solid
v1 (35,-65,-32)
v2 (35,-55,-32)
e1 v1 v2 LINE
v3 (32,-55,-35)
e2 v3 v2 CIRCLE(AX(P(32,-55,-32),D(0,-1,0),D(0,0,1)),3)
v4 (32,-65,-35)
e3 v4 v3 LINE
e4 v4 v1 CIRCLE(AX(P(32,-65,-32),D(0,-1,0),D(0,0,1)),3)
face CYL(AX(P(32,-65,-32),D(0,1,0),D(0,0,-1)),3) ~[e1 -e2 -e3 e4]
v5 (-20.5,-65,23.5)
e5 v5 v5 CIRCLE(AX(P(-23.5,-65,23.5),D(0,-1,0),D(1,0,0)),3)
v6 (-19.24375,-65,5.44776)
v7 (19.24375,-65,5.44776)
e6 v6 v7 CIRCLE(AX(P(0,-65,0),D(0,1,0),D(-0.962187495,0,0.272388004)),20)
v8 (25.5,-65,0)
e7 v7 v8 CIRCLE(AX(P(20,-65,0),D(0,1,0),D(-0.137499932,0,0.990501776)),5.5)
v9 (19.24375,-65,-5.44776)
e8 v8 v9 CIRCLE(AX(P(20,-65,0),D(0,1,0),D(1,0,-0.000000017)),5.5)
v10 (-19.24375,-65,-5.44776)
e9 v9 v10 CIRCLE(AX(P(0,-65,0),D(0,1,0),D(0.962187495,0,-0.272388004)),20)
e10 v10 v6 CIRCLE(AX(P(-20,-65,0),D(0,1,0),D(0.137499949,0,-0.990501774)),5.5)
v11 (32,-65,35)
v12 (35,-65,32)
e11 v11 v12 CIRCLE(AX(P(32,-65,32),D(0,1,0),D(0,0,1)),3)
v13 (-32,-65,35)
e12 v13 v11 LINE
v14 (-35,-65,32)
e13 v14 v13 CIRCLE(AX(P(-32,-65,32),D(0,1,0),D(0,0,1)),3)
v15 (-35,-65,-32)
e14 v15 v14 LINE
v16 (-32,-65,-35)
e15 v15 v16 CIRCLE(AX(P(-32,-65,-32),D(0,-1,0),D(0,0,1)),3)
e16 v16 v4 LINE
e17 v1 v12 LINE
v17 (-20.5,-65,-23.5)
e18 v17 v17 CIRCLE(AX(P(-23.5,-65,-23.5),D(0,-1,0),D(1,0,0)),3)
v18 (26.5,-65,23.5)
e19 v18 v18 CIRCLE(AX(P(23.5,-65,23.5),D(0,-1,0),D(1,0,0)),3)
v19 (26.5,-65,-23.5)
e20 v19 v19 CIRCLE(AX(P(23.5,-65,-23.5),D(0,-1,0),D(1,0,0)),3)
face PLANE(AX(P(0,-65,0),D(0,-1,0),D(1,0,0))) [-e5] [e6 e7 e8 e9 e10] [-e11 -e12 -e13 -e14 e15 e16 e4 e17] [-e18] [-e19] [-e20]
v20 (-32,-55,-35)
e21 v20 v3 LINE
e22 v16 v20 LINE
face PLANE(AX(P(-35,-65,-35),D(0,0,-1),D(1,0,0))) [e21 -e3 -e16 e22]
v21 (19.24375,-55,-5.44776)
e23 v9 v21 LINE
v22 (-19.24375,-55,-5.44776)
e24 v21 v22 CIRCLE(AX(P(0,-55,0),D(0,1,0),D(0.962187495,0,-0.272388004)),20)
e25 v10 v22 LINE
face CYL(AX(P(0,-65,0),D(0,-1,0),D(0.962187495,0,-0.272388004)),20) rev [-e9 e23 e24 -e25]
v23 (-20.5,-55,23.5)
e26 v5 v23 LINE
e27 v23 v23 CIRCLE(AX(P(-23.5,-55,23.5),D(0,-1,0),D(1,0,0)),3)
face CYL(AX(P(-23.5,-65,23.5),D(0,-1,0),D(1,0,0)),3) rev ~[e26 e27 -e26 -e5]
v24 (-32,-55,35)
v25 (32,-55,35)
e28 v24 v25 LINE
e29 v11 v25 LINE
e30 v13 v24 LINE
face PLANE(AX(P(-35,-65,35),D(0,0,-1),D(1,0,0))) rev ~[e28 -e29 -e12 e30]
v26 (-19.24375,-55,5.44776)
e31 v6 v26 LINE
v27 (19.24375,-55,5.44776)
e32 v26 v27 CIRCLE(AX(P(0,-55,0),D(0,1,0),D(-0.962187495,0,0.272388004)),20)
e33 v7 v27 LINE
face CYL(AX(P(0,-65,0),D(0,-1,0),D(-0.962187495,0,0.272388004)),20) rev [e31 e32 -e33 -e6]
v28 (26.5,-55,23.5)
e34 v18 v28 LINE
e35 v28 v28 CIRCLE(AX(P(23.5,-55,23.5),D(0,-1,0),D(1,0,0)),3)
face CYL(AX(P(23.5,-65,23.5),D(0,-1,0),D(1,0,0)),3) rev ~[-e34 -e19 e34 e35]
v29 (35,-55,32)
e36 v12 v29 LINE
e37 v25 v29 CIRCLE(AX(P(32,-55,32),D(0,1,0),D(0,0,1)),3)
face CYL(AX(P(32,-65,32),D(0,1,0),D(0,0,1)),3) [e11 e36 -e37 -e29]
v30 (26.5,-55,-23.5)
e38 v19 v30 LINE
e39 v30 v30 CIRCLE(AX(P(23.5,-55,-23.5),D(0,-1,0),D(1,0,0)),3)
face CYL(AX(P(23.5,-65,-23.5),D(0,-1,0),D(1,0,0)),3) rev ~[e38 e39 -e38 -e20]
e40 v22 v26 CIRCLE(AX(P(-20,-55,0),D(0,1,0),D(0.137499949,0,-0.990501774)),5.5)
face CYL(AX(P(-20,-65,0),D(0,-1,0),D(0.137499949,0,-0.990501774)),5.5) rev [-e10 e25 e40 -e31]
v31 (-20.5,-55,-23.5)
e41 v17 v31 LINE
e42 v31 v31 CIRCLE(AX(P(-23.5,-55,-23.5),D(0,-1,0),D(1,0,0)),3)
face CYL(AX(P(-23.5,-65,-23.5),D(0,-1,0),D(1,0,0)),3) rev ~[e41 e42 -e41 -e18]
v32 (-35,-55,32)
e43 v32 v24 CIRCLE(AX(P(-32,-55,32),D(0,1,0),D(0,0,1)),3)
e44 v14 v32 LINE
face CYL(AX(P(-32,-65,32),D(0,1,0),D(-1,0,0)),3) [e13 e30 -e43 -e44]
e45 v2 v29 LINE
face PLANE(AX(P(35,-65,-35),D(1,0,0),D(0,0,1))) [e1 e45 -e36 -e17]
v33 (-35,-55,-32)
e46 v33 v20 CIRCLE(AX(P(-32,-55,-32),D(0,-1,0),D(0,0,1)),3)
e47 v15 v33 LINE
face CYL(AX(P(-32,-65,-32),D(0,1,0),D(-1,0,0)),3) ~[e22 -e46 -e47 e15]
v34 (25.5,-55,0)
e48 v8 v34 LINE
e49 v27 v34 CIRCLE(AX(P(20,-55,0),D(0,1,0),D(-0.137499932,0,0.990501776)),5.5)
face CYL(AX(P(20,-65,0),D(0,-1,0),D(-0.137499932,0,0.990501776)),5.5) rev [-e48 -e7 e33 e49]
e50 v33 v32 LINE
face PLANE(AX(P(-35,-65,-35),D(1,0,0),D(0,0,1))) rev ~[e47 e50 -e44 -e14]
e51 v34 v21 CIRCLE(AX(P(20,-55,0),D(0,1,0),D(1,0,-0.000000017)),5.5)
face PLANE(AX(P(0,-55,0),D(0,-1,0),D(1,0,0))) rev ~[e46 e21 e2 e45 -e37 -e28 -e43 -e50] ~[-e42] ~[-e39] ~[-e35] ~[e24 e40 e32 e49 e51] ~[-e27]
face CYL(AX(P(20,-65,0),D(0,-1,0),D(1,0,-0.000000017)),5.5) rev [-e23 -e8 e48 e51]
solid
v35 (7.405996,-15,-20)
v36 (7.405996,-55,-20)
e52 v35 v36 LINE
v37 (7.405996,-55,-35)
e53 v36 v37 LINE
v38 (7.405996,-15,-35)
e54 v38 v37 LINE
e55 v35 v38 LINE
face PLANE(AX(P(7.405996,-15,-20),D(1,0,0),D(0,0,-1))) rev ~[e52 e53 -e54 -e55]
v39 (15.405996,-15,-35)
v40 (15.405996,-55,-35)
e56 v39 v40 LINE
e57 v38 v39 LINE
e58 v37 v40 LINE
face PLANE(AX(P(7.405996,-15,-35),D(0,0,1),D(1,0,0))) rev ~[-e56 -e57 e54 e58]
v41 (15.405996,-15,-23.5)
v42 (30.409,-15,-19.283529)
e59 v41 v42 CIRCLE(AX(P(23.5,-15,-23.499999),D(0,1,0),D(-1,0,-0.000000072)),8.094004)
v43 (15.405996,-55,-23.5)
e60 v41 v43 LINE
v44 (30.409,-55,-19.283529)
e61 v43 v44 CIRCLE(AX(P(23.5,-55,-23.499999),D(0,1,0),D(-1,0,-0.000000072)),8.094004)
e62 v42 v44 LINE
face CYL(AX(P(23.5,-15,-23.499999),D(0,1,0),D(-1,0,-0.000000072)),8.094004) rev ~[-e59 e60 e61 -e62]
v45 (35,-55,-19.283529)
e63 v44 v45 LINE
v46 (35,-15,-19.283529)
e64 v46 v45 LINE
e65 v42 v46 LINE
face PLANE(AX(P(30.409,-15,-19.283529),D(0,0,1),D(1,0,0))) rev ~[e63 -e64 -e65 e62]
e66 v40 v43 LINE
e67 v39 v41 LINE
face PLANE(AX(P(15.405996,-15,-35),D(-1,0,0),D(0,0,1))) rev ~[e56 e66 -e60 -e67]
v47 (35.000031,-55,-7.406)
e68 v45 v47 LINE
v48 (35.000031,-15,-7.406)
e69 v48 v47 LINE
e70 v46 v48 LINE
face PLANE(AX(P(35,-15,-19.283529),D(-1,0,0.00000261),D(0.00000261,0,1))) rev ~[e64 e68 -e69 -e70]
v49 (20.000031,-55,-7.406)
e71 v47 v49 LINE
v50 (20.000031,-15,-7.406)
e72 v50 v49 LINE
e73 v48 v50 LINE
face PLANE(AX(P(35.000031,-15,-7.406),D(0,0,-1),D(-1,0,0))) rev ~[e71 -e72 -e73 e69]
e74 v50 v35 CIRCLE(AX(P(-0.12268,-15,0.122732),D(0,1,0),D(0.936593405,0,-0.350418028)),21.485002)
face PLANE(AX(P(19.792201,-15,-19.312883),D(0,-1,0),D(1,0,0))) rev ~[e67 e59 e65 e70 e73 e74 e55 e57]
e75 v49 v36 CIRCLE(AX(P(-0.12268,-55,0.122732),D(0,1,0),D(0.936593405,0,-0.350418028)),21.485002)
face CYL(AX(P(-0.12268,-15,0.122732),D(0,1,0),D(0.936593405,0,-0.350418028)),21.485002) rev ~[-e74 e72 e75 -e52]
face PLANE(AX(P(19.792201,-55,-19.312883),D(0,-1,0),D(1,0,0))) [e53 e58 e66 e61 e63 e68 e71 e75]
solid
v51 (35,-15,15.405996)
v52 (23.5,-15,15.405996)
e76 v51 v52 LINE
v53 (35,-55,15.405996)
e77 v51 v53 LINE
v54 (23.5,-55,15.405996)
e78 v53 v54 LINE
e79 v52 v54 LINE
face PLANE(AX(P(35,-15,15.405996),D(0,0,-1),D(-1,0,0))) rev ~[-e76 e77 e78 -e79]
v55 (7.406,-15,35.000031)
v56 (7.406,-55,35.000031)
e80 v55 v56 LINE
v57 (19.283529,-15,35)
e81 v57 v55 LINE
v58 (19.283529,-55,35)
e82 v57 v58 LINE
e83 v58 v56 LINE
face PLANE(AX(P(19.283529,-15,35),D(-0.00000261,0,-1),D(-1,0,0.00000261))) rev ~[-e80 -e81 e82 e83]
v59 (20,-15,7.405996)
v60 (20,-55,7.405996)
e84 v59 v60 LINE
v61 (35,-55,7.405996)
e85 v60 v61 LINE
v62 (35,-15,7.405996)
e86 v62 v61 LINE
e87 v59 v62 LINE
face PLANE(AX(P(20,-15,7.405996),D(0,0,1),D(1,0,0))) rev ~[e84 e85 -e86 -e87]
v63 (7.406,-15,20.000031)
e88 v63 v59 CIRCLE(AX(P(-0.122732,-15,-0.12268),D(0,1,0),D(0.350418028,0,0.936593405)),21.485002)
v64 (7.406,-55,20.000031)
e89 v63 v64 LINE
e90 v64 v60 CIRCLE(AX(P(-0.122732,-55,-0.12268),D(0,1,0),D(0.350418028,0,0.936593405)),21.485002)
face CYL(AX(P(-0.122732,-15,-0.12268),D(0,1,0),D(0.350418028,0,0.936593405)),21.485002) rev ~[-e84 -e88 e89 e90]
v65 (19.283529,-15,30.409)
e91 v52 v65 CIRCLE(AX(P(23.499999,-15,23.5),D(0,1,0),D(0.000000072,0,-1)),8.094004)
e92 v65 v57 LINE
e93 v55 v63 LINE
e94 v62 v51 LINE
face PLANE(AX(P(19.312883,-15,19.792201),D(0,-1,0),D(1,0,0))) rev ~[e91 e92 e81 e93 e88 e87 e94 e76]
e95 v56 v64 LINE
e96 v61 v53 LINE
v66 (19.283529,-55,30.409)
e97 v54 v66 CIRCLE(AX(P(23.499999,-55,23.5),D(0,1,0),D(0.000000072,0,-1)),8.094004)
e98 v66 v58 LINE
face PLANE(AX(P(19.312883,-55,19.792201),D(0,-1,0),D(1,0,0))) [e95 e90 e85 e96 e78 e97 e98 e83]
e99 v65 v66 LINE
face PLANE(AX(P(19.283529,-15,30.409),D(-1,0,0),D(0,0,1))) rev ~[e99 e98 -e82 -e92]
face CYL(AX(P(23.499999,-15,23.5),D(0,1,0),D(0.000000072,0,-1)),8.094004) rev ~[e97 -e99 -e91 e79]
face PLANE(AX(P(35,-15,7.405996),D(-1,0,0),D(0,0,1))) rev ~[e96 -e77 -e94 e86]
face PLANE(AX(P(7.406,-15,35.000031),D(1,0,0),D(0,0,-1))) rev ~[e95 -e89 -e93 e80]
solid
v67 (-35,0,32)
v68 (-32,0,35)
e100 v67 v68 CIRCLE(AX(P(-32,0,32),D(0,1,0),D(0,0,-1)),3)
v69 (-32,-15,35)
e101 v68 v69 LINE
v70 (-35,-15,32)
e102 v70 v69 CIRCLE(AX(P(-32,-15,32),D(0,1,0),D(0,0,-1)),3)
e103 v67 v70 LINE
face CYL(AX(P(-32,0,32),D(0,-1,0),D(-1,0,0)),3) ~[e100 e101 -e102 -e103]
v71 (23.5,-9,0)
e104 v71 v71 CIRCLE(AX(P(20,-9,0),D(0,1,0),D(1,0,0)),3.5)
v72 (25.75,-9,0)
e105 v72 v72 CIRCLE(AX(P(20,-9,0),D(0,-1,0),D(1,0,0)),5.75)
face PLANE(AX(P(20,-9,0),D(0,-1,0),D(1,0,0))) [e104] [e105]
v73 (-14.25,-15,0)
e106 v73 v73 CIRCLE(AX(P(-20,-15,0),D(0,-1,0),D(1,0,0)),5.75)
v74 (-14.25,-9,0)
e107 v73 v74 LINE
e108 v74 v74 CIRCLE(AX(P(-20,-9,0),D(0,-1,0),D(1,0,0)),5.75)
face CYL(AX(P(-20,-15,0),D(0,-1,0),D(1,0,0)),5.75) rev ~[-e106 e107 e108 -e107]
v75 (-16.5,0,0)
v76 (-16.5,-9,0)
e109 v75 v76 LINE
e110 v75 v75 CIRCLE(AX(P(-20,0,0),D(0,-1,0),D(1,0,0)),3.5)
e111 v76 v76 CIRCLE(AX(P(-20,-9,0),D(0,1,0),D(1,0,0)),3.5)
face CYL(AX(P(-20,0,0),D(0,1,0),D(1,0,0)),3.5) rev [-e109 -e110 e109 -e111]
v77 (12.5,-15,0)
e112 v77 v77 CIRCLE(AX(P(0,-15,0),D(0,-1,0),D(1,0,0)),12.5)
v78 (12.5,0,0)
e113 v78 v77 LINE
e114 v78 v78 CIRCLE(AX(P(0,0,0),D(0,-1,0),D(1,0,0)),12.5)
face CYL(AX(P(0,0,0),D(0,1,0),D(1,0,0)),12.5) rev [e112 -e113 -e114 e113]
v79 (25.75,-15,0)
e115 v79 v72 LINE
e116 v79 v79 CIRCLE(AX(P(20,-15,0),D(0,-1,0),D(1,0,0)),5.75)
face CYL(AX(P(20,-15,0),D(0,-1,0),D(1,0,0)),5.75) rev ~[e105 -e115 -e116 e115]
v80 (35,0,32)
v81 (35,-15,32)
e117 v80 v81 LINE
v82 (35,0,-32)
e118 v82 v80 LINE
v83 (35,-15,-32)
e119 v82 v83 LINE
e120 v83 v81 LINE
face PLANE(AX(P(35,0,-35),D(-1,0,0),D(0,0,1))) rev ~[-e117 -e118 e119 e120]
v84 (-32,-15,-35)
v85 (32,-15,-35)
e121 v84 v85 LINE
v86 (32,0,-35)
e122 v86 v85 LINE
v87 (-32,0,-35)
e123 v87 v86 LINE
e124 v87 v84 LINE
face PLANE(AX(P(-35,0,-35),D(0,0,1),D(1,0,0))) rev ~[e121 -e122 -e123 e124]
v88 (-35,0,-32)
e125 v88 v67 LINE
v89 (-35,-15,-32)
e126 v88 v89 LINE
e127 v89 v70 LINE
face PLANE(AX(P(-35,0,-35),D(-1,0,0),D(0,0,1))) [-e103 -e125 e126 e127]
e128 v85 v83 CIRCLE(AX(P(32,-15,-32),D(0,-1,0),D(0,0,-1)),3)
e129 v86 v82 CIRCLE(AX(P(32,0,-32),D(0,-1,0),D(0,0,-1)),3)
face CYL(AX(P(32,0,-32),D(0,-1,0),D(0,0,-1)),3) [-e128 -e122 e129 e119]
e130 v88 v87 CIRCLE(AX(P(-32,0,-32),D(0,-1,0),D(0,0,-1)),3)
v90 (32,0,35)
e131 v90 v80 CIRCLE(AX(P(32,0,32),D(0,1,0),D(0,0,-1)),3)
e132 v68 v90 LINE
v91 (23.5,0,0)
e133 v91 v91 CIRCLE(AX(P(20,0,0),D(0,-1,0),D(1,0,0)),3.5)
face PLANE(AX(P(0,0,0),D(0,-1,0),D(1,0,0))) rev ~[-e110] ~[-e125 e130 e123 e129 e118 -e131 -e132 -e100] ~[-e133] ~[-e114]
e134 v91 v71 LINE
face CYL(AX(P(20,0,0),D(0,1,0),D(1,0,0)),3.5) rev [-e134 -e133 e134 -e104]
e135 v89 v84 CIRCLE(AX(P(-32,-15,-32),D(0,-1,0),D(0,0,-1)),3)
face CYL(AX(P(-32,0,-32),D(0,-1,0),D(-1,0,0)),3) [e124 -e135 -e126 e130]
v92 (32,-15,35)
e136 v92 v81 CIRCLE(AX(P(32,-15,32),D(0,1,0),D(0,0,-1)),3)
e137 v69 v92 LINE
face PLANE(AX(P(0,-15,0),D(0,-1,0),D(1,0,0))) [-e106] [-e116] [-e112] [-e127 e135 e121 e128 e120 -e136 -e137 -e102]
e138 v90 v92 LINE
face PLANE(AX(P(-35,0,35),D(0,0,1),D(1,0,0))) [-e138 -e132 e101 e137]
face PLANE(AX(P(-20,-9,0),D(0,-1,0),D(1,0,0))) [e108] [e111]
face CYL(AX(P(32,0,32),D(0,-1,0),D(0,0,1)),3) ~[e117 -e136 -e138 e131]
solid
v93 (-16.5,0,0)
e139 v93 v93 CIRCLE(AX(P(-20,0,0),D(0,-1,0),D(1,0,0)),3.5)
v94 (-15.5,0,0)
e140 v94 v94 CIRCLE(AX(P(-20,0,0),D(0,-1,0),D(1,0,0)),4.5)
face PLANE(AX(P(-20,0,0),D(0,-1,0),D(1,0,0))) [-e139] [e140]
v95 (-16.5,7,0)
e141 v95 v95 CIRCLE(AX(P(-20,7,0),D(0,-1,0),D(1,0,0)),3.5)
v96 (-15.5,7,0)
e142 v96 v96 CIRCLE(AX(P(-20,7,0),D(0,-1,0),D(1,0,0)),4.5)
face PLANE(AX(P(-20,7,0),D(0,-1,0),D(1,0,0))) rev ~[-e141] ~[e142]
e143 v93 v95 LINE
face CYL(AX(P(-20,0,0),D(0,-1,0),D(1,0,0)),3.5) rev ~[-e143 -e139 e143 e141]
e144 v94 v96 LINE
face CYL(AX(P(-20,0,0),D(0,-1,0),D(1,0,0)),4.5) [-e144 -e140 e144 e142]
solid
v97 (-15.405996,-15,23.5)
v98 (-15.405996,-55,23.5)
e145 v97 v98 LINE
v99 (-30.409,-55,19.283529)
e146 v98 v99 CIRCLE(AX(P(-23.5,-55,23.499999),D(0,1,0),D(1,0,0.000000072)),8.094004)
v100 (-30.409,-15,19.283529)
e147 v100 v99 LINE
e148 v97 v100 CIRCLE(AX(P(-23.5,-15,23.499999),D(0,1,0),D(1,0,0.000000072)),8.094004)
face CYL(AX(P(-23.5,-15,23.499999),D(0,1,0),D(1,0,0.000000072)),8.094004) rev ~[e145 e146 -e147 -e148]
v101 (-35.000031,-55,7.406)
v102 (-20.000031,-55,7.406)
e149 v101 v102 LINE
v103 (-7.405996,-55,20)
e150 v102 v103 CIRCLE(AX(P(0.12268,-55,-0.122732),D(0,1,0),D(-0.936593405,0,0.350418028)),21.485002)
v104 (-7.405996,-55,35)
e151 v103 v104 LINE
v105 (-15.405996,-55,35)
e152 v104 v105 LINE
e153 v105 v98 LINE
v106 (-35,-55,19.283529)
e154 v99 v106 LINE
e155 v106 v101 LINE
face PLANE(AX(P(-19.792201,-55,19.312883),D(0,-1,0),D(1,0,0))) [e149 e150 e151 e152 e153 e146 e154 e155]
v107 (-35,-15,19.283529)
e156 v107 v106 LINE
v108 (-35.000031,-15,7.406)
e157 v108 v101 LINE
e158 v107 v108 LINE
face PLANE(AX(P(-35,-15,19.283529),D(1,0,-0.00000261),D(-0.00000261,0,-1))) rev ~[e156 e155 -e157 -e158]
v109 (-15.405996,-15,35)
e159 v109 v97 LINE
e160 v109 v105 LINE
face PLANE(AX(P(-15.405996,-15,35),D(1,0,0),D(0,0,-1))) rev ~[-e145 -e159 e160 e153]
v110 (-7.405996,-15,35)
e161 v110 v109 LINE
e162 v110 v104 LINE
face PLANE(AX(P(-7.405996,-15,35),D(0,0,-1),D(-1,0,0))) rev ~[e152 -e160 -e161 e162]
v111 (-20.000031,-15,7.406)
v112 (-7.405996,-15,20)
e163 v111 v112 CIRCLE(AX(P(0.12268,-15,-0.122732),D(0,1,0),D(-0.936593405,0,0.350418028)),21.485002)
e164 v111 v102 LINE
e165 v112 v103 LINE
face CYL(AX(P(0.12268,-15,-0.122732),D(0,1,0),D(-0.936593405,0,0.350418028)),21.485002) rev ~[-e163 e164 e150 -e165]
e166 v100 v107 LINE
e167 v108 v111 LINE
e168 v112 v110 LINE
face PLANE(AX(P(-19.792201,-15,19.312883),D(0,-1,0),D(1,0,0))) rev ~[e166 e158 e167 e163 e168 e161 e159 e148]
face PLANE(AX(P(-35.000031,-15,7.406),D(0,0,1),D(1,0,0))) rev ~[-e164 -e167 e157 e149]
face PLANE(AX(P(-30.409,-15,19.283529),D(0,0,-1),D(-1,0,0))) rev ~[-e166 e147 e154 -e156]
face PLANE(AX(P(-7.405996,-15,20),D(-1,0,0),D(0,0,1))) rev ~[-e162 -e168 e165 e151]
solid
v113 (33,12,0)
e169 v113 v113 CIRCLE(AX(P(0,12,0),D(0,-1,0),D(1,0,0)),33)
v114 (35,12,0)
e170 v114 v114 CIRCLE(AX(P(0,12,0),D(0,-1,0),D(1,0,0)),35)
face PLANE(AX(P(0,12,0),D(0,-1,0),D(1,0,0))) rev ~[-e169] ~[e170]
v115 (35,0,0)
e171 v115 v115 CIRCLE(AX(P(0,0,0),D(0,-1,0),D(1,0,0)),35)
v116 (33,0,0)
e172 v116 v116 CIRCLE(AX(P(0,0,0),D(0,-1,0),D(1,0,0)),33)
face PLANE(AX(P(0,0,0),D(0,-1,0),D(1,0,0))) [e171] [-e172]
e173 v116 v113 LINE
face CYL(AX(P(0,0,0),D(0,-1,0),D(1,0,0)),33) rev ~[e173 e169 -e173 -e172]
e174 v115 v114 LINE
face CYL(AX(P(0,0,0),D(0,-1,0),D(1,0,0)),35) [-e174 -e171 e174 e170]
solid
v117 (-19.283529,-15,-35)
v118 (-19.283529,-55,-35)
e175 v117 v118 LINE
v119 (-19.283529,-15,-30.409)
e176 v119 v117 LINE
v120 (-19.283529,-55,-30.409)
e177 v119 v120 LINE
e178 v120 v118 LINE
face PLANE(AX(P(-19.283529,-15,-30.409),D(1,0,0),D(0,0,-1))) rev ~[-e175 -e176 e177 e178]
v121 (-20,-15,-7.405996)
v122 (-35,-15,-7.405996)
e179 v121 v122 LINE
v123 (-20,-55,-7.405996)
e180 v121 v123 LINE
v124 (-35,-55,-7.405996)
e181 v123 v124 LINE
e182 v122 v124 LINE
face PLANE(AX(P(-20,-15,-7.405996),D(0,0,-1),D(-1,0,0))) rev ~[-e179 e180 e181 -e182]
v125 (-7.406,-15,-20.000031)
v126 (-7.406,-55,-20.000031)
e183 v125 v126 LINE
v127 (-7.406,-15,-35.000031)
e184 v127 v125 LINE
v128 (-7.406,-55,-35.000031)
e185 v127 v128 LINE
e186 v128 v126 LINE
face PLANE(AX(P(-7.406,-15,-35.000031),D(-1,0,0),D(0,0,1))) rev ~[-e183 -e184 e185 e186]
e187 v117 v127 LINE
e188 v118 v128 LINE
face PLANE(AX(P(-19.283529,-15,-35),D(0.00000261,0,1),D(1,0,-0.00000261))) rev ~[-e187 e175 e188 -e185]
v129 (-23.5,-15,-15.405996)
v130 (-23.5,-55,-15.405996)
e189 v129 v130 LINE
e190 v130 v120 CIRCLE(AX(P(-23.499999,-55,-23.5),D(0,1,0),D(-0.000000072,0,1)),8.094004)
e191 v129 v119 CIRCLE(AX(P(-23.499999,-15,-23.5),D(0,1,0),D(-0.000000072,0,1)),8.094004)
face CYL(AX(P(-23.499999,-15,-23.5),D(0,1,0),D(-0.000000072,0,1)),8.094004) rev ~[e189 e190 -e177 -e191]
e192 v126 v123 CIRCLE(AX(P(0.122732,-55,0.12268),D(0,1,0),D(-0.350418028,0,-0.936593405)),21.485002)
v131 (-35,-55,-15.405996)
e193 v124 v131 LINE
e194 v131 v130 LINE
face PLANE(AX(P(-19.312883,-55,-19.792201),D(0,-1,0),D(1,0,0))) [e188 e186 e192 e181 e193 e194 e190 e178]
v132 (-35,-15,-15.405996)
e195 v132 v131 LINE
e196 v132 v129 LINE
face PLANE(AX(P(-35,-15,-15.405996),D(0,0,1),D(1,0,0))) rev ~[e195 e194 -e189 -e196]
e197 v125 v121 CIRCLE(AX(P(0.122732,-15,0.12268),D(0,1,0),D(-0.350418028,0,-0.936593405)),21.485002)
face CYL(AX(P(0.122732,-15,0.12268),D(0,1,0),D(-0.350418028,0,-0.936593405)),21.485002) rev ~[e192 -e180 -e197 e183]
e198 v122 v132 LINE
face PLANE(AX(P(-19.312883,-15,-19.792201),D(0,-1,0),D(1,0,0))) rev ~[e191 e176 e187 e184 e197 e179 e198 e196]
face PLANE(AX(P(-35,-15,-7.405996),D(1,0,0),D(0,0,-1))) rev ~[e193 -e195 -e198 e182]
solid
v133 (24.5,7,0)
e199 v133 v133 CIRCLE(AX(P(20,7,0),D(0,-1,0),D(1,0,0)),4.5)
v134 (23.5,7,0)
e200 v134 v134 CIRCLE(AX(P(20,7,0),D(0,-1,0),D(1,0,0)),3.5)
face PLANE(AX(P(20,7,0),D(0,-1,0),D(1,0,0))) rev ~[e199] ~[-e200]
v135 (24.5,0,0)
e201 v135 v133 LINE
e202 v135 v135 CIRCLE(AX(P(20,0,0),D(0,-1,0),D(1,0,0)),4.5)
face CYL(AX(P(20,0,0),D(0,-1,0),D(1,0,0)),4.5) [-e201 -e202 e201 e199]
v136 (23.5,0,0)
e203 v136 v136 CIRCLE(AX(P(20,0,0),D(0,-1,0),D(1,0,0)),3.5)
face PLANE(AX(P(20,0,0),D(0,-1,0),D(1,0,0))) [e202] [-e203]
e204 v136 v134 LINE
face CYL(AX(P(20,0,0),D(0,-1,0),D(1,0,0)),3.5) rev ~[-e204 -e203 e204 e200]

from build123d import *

# Parameters (mm, degrees)
F0_R      = 4.5
F0_R_2    = 3.5
F1_DEPTH  = 7
F2_R      = 35
F2_R_2    = 33
F3_DEPTH  = 12
F4_W      = 70
F4_H      = 70
F4_R      = 3.5
F4_R_2    = 12.5
F5_DEPTH  = 15
F7_R      = 5.75
F8_DEPTH  = 6
F10_W     = 70
F10_H     = 70
F10_R     = 3
F11_DEPTH = 10
F13_DEPTH = 40
F14_R     = 3
F15_R     = 3


with BuildPart() as f1:
    # F0 (on Front) → F1 (new body)
    with BuildSketch(Plane.XZ):
        with Locations((-20, 0)):
            Circle(F0_R)
        with Locations((-20, 0)):
            Circle(F0_R_2, mode=Mode.SUBTRACT)
        with Locations((20, 0)):
            Circle(F0_R)
        with Locations((20, 0)):
            Circle(F0_R_2, mode=Mode.SUBTRACT)
    extrude(amount=-F1_DEPTH)


with BuildPart() as f3:
    # F2 (on Front) → F3 (new body)
    with BuildSketch(Plane.XZ):
        Circle(F2_R)
        Circle(F2_R_2, mode=Mode.SUBTRACT)
    extrude(amount=-F3_DEPTH)


with BuildPart() as f5:
    # F4 (on Front) → F5 (new body)
    with BuildSketch(Plane.XZ):
        Rectangle(F4_W, F4_H)
        with Locations((-20, 0)):
            Circle(F4_R, mode=Mode.SUBTRACT)
        Circle(F4_R_2, mode=Mode.SUBTRACT)
        with Locations((20, 0)):
            Circle(F4_R, mode=Mode.SUBTRACT)
    extrude(amount=F5_DEPTH)

    # F7 (on offset) → F8 (cut)
    with BuildSketch(Plane.XZ.offset(15)):
        with Locations((-20, 0)):
            Circle(F7_R)
        with Locations((20, 0)):
            Circle(F7_R)
    extrude(amount=-F8_DEPTH, mode=Mode.SUBTRACT)

    # F15
    f15_edges = [f5.edges().sort_by_distance(p)[0] for p in [
        (35, -7.5, -35),
        (35, -7.5, 35),
        (-35, -7.5, 35),
        (-35, -7.5, -35),
    ]]
    fillet(f15_edges, radius=F15_R)


with BuildPart() as f11:
    # F10 (on offset) → F11 (new body)
    with BuildSketch(Plane.XZ.offset(65)):
        Rectangle(F10_W, F10_H)
        with Locations((-23.5, -23.5)):
            Circle(F10_R, mode=Mode.SUBTRACT)
        with Locations((23.5, -23.5)):
            Circle(F10_R, mode=Mode.SUBTRACT)
        with Locations((-23.5, 23.5)):
            Circle(F10_R, mode=Mode.SUBTRACT)
        with BuildLine():
            ThreePointArc((-19.24375, 5.44776), (0, 20), (19.24375, 5.44776))
            ThreePointArc((19.24375, 5.44776), (23.61183, 4.147853), (25.5, 0))
            ThreePointArc((25.5, 0), (23.61183, -4.147853), (19.24375, -5.44776))
            ThreePointArc((19.24375, -5.44776), (0, -20), (-19.24375, -5.44776))
            ThreePointArc((-19.24375, -5.44776), (-25.5, 0), (-19.24375, 5.44776))
        make_face(mode=Mode.SUBTRACT)
        with Locations((23.5, 23.5)):
            Circle(F10_R, mode=Mode.SUBTRACT)
    extrude(amount=-F11_DEPTH)

    # F14
    f14_edges = [f11.edges().sort_by_distance(p)[0] for p in [
        (-35, -60, 35),
        (35, -60, 35),
        (35, -60, -35),
        (-35, -60, -35),
    ]]
    fillet(f14_edges, radius=F14_R)


with BuildPart() as f13:
    # F12 (on offset) → F13 (new body)
    with BuildSketch(Plane.XZ.offset(15)):
        with BuildLine():
            Line((-15.405996, 35), (-15.405996, 23.5))
            ThreePointArc((-15.405996, 23.5), (-21.310088, 15.707876), (-30.409, 19.283529))
            Line((-30.409, 19.283529), (-35, 19.283529))
            Line((-35, 19.283529), (-35.000031, 7.406))
            Line((-35.000031, 7.406), (-20.000031, 7.406))
            ThreePointArc((-20.000031, 7.406), (-15.069489, 15.06948), (-7.405996, 20))
            Line((-7.405996, 20), (-7.405996, 35))
            Line((-7.405996, 35), (-15.405996, 35))
        make_face()
        with BuildLine():
            Line((-20, -7.405996), (-35, -7.405996))
            Line((-35, -7.405996), (-35, -15.405996))
            Line((-35, -15.405996), (-23.5, -15.405996))
            ThreePointArc((-23.5, -15.405996), (-15.707876, -21.310088), (-19.283529, -30.409))
            Line((-19.283529, -30.409), (-19.283529, -35))
            Line((-19.283529, -35), (-7.406, -35.000031))
            Line((-7.406, -35.000031), (-7.406, -20.000031))
            ThreePointArc((-7.406, -20.000031), (-15.06948, -15.069489), (-20, -7.405996))
        make_face()
        with BuildLine():
            Line((7.405996, -20), (7.405996, -35))
            Line((7.405996, -35), (15.405996, -35))
            Line((15.405996, -35), (15.405996, -23.5))
            ThreePointArc((15.405996, -23.5), (21.310088, -15.707876), (30.409, -19.283529))
            Line((30.409, -19.283529), (35, -19.283529))
            Line((35, -19.283529), (35.000031, -7.406))
            Line((35.000031, -7.406), (20.000031, -7.406))
            ThreePointArc((20.000031, -7.406), (15.069489, -15.06948), (7.405996, -20))
        make_face()
        with BuildLine():
            Line((20, 7.405996), (35, 7.405996))
            Line((35, 7.405996), (35, 15.405996))
            Line((35, 15.405996), (23.5, 15.405996))
            ThreePointArc((23.5, 15.405996), (15.707876, 21.310088), (19.283529, 30.409))
            Line((19.283529, 30.409), (19.283529, 35))
            Line((19.283529, 35), (7.406, 35.000031))
            Line((7.406, 35.000031), (7.406, 20.000031))
            ThreePointArc((7.406, 20.000031), (15.06948, 15.069489), (20, 7.405996))
        make_face()
    extrude(amount=F13_DEPTH)


solid = Compound([f1.part, f3.part, f5.part, f11.part, f13.part])
